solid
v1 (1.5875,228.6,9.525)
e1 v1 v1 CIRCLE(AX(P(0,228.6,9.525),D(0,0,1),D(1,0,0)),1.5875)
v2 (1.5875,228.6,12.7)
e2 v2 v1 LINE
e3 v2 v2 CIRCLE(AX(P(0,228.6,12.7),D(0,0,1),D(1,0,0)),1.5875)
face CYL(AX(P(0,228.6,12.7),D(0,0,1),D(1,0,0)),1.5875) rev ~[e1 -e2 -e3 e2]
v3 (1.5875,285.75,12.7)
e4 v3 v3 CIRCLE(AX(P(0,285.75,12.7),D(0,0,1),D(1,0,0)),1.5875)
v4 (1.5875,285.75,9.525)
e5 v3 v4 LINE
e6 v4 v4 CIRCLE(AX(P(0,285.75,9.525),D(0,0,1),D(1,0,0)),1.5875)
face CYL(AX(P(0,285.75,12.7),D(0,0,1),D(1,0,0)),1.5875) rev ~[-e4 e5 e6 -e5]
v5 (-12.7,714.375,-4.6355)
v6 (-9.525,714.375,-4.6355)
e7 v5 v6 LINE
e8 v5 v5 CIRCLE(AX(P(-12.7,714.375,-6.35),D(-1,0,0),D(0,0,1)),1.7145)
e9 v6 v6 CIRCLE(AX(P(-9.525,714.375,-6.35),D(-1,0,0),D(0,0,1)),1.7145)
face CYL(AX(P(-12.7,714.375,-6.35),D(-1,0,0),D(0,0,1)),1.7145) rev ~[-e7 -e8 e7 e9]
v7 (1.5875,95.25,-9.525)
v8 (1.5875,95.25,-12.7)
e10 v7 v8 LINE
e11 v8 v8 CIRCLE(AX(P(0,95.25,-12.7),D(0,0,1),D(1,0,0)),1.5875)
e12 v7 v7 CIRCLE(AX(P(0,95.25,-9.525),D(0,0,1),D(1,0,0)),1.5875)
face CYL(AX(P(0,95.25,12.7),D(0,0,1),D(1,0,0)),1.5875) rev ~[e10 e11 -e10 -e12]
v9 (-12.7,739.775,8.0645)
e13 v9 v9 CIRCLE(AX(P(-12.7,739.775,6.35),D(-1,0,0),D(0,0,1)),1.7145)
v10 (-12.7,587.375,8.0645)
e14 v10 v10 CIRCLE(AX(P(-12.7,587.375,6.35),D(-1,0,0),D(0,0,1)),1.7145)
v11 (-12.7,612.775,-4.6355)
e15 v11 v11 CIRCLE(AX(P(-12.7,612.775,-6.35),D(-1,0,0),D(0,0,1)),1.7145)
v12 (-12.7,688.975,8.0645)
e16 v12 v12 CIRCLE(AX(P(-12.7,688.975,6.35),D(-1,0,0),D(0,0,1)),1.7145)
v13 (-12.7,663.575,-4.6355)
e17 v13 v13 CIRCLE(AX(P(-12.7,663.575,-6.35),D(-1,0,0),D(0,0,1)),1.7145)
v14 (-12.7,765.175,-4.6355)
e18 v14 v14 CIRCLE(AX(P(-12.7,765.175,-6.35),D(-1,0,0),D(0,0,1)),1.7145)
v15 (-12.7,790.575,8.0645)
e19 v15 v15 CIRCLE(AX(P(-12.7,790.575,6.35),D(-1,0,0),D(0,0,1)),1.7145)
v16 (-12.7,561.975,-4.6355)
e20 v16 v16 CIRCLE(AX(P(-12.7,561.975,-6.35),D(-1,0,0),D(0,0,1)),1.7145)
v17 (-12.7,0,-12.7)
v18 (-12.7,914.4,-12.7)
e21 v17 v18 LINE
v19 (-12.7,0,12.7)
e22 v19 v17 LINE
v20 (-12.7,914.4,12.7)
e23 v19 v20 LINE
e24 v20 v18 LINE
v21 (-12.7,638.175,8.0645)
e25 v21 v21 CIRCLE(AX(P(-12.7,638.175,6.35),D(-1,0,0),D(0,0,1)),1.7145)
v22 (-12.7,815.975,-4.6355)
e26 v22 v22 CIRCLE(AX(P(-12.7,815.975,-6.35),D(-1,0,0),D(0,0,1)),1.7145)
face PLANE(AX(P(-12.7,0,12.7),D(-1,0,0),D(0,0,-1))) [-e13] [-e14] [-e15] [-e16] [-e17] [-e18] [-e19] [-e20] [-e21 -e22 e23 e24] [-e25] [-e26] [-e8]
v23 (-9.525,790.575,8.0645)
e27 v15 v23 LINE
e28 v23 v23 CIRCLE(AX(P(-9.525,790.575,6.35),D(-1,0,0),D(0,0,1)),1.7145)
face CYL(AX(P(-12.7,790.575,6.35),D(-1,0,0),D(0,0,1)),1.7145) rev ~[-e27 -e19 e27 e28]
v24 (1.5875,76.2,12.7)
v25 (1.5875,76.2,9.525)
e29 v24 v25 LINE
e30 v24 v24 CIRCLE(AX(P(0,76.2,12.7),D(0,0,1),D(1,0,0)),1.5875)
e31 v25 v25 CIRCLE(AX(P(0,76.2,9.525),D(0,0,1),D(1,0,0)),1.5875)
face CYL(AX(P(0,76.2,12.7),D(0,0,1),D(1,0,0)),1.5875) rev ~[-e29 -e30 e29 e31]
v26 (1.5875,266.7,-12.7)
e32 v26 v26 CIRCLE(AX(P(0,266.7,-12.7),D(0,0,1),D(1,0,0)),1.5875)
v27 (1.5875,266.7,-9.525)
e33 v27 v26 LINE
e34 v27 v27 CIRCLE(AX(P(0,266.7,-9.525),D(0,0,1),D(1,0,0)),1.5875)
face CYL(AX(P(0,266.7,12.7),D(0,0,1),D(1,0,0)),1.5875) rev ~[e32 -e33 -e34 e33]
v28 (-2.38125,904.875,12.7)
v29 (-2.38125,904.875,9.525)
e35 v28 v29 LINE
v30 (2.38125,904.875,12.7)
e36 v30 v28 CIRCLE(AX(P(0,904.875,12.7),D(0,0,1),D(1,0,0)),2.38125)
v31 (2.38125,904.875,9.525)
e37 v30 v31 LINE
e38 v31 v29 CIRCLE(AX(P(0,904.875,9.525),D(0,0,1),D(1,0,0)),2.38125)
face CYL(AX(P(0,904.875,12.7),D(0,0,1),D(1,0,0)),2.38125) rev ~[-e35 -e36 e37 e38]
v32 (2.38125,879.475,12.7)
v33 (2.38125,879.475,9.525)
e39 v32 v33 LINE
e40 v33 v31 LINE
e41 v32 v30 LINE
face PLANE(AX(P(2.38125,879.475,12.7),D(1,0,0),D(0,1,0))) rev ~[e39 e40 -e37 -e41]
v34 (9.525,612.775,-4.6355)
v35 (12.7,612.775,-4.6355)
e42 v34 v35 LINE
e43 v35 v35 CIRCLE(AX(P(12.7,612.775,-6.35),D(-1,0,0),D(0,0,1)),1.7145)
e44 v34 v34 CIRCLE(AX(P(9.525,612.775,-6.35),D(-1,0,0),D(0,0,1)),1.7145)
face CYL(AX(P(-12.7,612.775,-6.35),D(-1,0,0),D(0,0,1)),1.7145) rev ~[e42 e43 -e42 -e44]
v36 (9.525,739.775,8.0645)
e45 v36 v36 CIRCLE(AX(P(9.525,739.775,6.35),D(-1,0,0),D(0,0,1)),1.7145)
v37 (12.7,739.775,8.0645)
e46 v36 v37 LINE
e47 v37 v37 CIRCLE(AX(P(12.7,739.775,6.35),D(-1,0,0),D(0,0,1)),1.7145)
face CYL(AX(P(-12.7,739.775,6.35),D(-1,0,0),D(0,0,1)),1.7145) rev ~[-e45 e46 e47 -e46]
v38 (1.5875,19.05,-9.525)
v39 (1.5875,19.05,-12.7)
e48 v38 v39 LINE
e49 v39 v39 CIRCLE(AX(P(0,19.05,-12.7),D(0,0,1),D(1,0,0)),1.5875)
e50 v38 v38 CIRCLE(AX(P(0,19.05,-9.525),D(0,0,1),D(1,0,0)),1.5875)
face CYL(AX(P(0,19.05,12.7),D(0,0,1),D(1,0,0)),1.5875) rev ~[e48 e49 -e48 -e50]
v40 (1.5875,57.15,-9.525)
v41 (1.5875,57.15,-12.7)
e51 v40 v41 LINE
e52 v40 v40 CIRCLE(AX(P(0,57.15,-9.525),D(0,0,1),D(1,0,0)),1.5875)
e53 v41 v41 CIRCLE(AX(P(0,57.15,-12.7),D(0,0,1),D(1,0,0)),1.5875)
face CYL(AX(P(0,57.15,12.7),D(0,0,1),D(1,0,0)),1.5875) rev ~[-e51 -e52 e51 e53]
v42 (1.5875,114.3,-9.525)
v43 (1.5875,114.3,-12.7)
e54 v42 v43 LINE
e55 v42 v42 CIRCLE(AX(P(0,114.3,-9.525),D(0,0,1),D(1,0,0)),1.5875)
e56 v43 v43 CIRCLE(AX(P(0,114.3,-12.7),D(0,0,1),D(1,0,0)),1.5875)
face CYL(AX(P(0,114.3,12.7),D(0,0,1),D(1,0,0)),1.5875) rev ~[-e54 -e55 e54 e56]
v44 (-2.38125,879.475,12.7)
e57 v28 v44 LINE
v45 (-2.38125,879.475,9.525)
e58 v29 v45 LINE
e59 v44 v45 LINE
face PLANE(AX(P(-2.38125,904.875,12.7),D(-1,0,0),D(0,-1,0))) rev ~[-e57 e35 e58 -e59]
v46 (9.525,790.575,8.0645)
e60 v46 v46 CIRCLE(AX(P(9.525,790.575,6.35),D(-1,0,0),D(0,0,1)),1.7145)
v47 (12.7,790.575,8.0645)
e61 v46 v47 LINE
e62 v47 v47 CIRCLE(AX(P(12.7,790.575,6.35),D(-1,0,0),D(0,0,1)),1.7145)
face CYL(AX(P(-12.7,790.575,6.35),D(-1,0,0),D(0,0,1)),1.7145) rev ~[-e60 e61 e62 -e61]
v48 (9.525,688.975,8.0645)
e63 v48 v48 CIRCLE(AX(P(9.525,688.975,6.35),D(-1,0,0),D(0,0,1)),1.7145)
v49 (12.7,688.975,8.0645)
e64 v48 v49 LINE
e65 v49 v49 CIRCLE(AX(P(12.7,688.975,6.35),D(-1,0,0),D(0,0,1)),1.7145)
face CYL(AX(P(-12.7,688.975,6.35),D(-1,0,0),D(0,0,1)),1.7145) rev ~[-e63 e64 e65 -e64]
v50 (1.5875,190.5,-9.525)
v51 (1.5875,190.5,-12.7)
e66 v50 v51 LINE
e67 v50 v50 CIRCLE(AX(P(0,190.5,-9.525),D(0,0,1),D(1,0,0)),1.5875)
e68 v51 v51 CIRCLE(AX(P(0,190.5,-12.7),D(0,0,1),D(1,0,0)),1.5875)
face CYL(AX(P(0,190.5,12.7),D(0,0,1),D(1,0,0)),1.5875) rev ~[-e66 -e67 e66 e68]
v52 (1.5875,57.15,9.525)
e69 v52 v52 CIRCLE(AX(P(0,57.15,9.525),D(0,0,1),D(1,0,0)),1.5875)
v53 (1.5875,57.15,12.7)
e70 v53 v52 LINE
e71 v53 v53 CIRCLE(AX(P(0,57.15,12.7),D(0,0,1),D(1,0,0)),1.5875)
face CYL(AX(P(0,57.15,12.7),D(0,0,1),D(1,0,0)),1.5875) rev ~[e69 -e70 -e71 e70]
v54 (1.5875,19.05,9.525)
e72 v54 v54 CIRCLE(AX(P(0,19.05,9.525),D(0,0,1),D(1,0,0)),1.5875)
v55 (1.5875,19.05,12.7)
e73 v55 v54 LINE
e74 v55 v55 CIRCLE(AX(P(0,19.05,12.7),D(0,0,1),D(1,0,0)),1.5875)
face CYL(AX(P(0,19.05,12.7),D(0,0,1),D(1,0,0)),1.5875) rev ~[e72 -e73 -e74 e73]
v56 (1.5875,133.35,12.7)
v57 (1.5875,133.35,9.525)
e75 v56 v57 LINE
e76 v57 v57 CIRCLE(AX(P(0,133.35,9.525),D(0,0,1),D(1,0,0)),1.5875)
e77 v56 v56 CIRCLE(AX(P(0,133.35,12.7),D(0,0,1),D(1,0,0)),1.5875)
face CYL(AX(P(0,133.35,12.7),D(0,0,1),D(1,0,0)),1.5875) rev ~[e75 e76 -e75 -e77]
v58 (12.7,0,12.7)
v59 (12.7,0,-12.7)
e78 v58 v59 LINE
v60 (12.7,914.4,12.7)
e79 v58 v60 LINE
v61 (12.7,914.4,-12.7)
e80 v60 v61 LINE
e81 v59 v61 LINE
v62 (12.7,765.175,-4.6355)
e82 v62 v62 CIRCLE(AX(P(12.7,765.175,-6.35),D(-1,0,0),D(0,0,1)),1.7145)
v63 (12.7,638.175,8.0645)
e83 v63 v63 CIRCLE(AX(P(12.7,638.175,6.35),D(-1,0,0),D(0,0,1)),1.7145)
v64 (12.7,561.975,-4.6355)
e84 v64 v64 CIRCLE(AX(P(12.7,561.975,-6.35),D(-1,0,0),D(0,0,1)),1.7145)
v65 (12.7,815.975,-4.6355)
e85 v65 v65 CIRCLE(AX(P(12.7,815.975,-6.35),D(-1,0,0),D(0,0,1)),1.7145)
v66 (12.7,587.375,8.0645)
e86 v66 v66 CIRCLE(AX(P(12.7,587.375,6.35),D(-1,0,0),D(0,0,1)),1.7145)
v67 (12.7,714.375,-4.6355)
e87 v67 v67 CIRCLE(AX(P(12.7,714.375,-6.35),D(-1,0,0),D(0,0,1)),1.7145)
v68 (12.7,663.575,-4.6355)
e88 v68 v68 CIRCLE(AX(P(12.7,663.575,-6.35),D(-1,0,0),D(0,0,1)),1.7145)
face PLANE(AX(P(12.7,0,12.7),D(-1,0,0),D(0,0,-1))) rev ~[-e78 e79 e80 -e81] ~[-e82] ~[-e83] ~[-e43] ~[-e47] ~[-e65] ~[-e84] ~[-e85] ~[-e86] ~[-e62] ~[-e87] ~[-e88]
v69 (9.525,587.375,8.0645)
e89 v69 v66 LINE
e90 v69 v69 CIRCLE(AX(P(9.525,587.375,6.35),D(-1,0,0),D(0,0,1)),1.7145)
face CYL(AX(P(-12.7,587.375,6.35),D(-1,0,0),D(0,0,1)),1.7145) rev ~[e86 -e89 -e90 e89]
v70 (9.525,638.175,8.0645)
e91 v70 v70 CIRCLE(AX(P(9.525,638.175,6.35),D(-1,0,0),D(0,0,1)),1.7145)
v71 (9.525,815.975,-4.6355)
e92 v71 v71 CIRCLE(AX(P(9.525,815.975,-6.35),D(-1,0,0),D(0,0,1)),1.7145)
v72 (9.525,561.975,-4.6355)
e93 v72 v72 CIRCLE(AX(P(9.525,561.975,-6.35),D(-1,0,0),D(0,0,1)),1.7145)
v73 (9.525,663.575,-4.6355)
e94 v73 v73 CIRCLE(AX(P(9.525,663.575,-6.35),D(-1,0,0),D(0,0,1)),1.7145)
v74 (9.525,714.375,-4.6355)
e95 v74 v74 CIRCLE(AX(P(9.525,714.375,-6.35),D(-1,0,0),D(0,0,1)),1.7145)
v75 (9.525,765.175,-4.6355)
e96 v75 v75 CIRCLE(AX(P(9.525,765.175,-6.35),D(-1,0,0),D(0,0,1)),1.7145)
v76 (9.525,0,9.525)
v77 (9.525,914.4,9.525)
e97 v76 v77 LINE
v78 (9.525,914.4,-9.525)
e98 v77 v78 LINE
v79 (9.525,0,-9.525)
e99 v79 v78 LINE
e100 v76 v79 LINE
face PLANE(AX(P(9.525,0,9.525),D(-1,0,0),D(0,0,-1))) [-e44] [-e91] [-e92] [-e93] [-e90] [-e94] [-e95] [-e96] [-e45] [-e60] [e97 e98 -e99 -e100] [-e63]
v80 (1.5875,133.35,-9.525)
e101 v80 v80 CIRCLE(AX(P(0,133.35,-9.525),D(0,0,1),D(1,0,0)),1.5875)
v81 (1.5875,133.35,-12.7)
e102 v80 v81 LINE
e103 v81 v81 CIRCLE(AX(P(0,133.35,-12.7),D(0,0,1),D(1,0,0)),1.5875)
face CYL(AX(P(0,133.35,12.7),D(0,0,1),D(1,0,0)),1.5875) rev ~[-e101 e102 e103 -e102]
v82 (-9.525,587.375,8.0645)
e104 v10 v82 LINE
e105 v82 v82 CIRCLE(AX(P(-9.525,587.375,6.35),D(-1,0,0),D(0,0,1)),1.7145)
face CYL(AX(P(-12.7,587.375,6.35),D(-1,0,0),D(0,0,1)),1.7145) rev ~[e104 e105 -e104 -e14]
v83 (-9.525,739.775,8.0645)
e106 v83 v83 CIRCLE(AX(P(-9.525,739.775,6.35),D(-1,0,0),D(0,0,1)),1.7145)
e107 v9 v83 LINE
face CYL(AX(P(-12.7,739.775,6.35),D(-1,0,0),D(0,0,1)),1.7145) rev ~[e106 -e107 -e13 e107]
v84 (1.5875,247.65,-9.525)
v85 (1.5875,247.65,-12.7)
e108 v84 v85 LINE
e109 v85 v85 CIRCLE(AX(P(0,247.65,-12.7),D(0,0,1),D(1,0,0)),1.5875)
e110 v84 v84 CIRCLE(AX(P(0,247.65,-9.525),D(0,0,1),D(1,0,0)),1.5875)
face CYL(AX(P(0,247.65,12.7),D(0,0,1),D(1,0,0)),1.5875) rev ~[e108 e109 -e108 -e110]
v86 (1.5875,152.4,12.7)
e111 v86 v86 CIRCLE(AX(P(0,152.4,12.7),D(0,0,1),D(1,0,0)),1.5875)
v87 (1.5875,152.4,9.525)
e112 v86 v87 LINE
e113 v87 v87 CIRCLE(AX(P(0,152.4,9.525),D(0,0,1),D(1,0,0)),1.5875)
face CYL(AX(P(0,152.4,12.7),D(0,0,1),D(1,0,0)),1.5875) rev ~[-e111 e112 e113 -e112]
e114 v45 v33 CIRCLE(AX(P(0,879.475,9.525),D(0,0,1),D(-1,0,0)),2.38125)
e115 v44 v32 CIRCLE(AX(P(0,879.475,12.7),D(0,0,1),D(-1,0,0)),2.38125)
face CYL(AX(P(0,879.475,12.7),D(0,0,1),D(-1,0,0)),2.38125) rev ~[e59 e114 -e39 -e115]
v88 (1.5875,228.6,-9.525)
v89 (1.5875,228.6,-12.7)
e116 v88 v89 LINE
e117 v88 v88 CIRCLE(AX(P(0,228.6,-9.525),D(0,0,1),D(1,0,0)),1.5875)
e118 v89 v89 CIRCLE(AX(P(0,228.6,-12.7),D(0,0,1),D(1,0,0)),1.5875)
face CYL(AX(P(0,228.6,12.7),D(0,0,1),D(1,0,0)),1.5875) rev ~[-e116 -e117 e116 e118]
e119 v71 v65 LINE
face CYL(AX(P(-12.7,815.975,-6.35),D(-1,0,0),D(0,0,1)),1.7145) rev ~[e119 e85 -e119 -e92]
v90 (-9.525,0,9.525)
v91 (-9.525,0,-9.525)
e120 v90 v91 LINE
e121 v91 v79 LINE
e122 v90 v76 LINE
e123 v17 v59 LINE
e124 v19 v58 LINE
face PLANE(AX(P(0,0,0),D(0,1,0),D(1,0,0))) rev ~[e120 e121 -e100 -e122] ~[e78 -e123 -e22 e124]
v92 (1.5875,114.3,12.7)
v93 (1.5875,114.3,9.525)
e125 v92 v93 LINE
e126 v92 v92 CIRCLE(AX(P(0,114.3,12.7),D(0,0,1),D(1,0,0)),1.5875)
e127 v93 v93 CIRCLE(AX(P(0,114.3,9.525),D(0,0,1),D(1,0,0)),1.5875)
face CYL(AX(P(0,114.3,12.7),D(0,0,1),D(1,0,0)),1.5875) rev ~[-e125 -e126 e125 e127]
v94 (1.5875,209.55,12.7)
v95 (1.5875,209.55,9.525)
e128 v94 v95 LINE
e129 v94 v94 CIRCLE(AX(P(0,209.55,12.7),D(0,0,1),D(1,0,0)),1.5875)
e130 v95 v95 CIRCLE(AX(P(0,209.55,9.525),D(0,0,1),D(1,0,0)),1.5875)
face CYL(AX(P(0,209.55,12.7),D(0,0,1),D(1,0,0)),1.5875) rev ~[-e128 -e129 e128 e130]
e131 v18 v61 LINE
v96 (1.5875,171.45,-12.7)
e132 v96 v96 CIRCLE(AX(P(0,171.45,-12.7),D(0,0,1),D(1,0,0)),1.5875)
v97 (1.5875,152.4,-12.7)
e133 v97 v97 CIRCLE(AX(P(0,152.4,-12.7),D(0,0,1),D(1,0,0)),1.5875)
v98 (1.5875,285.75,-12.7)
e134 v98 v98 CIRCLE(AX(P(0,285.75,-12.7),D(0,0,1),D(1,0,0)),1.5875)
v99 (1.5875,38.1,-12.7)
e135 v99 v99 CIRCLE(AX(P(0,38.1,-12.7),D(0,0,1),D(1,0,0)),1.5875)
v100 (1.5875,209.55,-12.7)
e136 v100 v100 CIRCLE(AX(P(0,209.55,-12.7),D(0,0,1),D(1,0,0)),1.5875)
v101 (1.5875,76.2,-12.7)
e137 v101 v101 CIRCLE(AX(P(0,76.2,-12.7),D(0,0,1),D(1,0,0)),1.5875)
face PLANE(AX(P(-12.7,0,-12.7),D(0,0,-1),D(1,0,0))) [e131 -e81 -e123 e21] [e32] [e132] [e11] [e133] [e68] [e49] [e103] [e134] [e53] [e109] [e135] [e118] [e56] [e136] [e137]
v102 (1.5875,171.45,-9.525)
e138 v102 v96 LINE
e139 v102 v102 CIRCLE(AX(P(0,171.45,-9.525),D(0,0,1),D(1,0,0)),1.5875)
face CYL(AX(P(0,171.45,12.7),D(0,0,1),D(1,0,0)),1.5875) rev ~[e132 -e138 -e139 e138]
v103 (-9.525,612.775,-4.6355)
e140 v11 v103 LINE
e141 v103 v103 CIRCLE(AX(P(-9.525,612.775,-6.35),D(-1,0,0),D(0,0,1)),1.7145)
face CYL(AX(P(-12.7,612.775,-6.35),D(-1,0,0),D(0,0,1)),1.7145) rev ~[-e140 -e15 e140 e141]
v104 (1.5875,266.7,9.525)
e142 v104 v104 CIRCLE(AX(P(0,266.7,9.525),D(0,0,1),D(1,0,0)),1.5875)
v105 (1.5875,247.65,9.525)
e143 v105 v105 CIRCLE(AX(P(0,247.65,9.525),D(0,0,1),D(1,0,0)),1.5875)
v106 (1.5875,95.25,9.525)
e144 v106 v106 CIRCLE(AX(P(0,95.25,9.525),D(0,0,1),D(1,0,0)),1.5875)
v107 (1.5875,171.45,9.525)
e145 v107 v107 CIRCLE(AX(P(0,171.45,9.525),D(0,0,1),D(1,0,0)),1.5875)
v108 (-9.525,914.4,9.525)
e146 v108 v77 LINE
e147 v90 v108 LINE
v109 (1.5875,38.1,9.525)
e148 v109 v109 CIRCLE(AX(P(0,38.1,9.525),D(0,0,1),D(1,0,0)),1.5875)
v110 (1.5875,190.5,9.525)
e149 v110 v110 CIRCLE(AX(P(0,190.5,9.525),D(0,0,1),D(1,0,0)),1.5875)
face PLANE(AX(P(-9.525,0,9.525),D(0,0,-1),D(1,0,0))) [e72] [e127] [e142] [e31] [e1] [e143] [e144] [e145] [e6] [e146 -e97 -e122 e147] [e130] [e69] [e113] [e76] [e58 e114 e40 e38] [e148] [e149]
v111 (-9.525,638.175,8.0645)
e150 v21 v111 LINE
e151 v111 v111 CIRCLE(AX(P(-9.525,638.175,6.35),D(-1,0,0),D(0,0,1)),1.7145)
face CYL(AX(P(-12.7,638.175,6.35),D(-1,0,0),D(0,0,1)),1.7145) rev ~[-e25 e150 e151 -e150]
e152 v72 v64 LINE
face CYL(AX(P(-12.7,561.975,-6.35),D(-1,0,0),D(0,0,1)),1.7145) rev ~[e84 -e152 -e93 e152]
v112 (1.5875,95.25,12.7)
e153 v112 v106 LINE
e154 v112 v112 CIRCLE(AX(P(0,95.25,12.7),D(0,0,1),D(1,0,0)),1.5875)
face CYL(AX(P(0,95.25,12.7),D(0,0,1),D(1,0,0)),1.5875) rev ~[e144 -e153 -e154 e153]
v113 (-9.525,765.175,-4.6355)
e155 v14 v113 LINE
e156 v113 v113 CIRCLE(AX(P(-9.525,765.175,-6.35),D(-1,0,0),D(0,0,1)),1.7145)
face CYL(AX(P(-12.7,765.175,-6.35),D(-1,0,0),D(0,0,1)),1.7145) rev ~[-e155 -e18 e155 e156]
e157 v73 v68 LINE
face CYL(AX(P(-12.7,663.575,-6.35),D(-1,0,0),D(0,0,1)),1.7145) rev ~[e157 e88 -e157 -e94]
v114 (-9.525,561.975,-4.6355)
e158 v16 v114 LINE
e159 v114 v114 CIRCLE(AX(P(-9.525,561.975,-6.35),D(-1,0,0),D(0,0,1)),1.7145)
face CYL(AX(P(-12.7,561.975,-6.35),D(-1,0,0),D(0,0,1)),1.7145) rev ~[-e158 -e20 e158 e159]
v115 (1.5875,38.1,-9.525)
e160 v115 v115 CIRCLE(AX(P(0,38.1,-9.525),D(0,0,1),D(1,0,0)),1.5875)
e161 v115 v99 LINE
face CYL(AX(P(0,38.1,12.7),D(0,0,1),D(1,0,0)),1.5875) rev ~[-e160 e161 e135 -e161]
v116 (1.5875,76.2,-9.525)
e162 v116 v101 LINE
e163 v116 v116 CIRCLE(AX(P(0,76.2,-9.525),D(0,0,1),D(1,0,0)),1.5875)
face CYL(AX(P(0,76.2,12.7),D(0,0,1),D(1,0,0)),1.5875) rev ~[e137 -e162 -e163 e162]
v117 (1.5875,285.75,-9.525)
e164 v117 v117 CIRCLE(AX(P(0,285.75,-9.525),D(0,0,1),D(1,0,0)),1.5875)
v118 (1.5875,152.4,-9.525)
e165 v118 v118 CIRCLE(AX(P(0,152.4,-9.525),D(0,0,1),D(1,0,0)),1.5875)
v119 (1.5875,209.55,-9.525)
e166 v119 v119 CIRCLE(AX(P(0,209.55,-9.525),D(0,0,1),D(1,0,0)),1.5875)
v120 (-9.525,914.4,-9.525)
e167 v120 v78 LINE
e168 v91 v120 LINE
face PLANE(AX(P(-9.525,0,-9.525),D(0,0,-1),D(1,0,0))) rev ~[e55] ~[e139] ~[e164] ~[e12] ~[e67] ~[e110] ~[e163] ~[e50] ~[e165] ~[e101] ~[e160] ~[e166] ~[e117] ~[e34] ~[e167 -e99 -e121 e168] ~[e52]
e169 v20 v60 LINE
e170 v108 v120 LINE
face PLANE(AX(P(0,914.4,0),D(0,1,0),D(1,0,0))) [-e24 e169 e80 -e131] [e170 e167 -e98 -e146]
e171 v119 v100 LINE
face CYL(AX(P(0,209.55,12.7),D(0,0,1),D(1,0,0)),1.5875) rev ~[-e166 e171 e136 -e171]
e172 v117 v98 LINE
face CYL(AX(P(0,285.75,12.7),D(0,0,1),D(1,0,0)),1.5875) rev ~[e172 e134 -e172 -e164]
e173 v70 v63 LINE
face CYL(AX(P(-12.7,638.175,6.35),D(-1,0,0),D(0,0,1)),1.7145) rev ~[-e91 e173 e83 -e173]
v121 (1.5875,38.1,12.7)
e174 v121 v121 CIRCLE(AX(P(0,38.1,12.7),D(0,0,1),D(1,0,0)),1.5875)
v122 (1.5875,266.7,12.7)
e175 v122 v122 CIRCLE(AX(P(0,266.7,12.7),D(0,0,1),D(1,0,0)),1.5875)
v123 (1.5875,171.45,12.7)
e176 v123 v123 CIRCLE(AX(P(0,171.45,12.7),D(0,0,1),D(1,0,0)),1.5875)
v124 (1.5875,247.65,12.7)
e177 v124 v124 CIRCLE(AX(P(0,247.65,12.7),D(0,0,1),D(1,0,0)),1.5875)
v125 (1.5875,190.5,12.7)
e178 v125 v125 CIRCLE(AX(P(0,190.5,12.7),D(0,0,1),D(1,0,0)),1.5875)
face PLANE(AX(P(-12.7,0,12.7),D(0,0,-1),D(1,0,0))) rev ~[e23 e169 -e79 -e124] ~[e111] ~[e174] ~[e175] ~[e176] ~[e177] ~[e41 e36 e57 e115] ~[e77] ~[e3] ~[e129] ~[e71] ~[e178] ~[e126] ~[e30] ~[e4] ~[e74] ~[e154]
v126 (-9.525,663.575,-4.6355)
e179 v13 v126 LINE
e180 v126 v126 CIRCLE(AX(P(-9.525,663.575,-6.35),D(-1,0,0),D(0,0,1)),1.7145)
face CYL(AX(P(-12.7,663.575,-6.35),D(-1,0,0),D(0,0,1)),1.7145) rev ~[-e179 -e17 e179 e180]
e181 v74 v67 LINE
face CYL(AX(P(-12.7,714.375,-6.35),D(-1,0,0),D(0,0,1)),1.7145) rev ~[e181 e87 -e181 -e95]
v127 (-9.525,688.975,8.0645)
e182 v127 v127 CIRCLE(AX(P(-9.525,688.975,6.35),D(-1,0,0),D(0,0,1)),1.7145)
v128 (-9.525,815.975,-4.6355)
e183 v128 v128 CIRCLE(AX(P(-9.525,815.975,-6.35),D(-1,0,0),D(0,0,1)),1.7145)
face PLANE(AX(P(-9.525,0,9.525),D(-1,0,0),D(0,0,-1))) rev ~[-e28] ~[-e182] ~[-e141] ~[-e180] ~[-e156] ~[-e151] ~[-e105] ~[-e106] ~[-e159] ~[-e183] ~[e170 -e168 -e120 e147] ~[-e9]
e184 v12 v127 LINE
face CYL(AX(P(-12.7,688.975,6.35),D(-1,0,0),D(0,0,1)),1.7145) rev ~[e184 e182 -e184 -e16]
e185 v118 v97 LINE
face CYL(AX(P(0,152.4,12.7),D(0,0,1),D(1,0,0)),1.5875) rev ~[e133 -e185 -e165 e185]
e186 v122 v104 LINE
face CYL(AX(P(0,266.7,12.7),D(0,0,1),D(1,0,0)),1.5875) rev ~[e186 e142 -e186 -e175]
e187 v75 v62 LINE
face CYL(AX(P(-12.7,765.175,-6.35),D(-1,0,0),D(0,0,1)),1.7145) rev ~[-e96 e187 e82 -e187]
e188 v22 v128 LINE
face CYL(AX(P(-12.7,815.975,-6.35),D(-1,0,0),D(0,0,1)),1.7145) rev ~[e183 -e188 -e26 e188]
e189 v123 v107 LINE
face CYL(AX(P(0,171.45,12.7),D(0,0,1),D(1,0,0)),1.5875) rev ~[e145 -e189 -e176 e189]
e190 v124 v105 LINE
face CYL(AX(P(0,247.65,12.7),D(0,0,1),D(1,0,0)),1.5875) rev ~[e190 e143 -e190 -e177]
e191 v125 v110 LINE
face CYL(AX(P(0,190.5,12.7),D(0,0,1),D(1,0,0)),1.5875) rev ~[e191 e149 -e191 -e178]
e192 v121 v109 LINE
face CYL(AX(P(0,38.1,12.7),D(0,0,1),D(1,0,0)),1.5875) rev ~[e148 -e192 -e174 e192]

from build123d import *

# Parameters (mm, degrees)
SKETCH1_W           = 25.4
SKETCH1_H           = 25.4
SKETCH1_W_2         = 19.05
SKETCH1_H_2         = 19.05
BOSS_EXTRUDE1_DEPTH = 914.4
CUT_EXTRUDE1_REACH  = 27.4
SKETCH4_R           = 1.7145
CUT_EXTRUDE3_DEPTH  = 26.4
SKETCH6_R           = 1.5875
CUT_EXTRUDE5_DEPTH  = 26.4


with BuildPart() as part:
    # Sketch1 → Boss-Extrude1 (new body)
    with BuildSketch(Plane(origin=(0, 0, 0), x_dir=(1, 0, 0), z_dir=(0, 1, 0))):
        Rectangle(SKETCH1_W, SKETCH1_H)
        Rectangle(SKETCH1_W_2, SKETCH1_H_2, mode=Mode.SUBTRACT)
    extrude(amount=BOSS_EXTRUDE1_DEPTH)

    # Sketch2 → Cut-Extrude1 (cut, up to next)
    with BuildSketch(Plane(origin=(0, 0, 12.7), x_dir=(-1, 0, 0), z_dir=(0, 0, -1)), mode=Mode.PRIVATE) as cut_extrude1_sk1:
        with BuildLine():
            Line((-2.38125, 879.475), (-2.38125, 904.875))
            ThreePointArc((-2.38125, 904.875), (0, 907.25625), (2.38125, 904.875))
            Line((2.38125, 904.875), (2.38125, 879.475))
            ThreePointArc((2.38125, 879.475), (0, 877.09375), (-2.38125, 879.475))
        make_face()
    cut_extrude1_tool1 = extrude(cut_extrude1_sk1.sketch, amount=CUT_EXTRUDE1_REACH, mode=Mode.PRIVATE) & part.part
    add(cut_extrude1_tool1.solids().sort_by_distance((0, 892.175, 12.7))[0], mode=Mode.SUBTRACT)

    # Sketch4 → Cut-Extrude3 (cut, through all)
    with BuildSketch(Plane.ZY.offset(12.7)):
        with Locations((-6.35, 561.975)):
            Circle(SKETCH4_R)
        with Locations((6.35, 587.375)):
            Circle(SKETCH4_R)
        with Locations((-6.35, 612.775)):
            Circle(SKETCH4_R)
        with Locations((6.35, 638.175)):
            Circle(SKETCH4_R)
        with Locations((-6.35, 663.575)):
            Circle(SKETCH4_R)
        with Locations((6.35, 688.975)):
            Circle(SKETCH4_R)
        with Locations((-6.35, 714.375)):
            Circle(SKETCH4_R)
        with Locations((6.35, 739.775)):
            Circle(SKETCH4_R)
        with Locations((-6.35, 765.175)):
            Circle(SKETCH4_R)
        with Locations((6.35, 790.575)):
            Circle(SKETCH4_R)
        with Locations((-6.35, 815.975)):
            Circle(SKETCH4_R)
    extrude(amount=-CUT_EXTRUDE3_DEPTH, mode=Mode.SUBTRACT)

    # Sketch6 → Cut-Extrude5 (cut, through all)
    with BuildSketch(Plane.XY.offset(12.7)):
        with Locations((0, 19.05)):
            Circle(SKETCH6_R)
        with Locations((0, 38.1)):
            Circle(SKETCH6_R)
        with Locations((0, 57.15)):
            Circle(SKETCH6_R)
        with Locations((0, 76.2)):
            Circle(SKETCH6_R)
        with Locations((0, 95.25)):
            Circle(SKETCH6_R)
        with Locations((0, 114.3)):
            Circle(SKETCH6_R)
        with Locations((0, 133.35)):
            Circle(SKETCH6_R)
        with Locations((0, 152.4)):
            Circle(SKETCH6_R)
        with Locations((0, 171.45)):
            Circle(SKETCH6_R)
        with Locations((0, 190.5)):
            Circle(SKETCH6_R)
        with Locations((0, 209.55)):
            Circle(SKETCH6_R)
        with Locations((0, 228.6)):
            Circle(SKETCH6_R)
        with Locations((0, 247.65)):
            Circle(SKETCH6_R)
        with Locations((0, 266.7)):
            Circle(SKETCH6_R)
        with Locations((0, 285.75)):
            Circle(SKETCH6_R)
    extrude(amount=-CUT_EXTRUDE5_DEPTH, mode=Mode.SUBTRACT)


solid = part.part
